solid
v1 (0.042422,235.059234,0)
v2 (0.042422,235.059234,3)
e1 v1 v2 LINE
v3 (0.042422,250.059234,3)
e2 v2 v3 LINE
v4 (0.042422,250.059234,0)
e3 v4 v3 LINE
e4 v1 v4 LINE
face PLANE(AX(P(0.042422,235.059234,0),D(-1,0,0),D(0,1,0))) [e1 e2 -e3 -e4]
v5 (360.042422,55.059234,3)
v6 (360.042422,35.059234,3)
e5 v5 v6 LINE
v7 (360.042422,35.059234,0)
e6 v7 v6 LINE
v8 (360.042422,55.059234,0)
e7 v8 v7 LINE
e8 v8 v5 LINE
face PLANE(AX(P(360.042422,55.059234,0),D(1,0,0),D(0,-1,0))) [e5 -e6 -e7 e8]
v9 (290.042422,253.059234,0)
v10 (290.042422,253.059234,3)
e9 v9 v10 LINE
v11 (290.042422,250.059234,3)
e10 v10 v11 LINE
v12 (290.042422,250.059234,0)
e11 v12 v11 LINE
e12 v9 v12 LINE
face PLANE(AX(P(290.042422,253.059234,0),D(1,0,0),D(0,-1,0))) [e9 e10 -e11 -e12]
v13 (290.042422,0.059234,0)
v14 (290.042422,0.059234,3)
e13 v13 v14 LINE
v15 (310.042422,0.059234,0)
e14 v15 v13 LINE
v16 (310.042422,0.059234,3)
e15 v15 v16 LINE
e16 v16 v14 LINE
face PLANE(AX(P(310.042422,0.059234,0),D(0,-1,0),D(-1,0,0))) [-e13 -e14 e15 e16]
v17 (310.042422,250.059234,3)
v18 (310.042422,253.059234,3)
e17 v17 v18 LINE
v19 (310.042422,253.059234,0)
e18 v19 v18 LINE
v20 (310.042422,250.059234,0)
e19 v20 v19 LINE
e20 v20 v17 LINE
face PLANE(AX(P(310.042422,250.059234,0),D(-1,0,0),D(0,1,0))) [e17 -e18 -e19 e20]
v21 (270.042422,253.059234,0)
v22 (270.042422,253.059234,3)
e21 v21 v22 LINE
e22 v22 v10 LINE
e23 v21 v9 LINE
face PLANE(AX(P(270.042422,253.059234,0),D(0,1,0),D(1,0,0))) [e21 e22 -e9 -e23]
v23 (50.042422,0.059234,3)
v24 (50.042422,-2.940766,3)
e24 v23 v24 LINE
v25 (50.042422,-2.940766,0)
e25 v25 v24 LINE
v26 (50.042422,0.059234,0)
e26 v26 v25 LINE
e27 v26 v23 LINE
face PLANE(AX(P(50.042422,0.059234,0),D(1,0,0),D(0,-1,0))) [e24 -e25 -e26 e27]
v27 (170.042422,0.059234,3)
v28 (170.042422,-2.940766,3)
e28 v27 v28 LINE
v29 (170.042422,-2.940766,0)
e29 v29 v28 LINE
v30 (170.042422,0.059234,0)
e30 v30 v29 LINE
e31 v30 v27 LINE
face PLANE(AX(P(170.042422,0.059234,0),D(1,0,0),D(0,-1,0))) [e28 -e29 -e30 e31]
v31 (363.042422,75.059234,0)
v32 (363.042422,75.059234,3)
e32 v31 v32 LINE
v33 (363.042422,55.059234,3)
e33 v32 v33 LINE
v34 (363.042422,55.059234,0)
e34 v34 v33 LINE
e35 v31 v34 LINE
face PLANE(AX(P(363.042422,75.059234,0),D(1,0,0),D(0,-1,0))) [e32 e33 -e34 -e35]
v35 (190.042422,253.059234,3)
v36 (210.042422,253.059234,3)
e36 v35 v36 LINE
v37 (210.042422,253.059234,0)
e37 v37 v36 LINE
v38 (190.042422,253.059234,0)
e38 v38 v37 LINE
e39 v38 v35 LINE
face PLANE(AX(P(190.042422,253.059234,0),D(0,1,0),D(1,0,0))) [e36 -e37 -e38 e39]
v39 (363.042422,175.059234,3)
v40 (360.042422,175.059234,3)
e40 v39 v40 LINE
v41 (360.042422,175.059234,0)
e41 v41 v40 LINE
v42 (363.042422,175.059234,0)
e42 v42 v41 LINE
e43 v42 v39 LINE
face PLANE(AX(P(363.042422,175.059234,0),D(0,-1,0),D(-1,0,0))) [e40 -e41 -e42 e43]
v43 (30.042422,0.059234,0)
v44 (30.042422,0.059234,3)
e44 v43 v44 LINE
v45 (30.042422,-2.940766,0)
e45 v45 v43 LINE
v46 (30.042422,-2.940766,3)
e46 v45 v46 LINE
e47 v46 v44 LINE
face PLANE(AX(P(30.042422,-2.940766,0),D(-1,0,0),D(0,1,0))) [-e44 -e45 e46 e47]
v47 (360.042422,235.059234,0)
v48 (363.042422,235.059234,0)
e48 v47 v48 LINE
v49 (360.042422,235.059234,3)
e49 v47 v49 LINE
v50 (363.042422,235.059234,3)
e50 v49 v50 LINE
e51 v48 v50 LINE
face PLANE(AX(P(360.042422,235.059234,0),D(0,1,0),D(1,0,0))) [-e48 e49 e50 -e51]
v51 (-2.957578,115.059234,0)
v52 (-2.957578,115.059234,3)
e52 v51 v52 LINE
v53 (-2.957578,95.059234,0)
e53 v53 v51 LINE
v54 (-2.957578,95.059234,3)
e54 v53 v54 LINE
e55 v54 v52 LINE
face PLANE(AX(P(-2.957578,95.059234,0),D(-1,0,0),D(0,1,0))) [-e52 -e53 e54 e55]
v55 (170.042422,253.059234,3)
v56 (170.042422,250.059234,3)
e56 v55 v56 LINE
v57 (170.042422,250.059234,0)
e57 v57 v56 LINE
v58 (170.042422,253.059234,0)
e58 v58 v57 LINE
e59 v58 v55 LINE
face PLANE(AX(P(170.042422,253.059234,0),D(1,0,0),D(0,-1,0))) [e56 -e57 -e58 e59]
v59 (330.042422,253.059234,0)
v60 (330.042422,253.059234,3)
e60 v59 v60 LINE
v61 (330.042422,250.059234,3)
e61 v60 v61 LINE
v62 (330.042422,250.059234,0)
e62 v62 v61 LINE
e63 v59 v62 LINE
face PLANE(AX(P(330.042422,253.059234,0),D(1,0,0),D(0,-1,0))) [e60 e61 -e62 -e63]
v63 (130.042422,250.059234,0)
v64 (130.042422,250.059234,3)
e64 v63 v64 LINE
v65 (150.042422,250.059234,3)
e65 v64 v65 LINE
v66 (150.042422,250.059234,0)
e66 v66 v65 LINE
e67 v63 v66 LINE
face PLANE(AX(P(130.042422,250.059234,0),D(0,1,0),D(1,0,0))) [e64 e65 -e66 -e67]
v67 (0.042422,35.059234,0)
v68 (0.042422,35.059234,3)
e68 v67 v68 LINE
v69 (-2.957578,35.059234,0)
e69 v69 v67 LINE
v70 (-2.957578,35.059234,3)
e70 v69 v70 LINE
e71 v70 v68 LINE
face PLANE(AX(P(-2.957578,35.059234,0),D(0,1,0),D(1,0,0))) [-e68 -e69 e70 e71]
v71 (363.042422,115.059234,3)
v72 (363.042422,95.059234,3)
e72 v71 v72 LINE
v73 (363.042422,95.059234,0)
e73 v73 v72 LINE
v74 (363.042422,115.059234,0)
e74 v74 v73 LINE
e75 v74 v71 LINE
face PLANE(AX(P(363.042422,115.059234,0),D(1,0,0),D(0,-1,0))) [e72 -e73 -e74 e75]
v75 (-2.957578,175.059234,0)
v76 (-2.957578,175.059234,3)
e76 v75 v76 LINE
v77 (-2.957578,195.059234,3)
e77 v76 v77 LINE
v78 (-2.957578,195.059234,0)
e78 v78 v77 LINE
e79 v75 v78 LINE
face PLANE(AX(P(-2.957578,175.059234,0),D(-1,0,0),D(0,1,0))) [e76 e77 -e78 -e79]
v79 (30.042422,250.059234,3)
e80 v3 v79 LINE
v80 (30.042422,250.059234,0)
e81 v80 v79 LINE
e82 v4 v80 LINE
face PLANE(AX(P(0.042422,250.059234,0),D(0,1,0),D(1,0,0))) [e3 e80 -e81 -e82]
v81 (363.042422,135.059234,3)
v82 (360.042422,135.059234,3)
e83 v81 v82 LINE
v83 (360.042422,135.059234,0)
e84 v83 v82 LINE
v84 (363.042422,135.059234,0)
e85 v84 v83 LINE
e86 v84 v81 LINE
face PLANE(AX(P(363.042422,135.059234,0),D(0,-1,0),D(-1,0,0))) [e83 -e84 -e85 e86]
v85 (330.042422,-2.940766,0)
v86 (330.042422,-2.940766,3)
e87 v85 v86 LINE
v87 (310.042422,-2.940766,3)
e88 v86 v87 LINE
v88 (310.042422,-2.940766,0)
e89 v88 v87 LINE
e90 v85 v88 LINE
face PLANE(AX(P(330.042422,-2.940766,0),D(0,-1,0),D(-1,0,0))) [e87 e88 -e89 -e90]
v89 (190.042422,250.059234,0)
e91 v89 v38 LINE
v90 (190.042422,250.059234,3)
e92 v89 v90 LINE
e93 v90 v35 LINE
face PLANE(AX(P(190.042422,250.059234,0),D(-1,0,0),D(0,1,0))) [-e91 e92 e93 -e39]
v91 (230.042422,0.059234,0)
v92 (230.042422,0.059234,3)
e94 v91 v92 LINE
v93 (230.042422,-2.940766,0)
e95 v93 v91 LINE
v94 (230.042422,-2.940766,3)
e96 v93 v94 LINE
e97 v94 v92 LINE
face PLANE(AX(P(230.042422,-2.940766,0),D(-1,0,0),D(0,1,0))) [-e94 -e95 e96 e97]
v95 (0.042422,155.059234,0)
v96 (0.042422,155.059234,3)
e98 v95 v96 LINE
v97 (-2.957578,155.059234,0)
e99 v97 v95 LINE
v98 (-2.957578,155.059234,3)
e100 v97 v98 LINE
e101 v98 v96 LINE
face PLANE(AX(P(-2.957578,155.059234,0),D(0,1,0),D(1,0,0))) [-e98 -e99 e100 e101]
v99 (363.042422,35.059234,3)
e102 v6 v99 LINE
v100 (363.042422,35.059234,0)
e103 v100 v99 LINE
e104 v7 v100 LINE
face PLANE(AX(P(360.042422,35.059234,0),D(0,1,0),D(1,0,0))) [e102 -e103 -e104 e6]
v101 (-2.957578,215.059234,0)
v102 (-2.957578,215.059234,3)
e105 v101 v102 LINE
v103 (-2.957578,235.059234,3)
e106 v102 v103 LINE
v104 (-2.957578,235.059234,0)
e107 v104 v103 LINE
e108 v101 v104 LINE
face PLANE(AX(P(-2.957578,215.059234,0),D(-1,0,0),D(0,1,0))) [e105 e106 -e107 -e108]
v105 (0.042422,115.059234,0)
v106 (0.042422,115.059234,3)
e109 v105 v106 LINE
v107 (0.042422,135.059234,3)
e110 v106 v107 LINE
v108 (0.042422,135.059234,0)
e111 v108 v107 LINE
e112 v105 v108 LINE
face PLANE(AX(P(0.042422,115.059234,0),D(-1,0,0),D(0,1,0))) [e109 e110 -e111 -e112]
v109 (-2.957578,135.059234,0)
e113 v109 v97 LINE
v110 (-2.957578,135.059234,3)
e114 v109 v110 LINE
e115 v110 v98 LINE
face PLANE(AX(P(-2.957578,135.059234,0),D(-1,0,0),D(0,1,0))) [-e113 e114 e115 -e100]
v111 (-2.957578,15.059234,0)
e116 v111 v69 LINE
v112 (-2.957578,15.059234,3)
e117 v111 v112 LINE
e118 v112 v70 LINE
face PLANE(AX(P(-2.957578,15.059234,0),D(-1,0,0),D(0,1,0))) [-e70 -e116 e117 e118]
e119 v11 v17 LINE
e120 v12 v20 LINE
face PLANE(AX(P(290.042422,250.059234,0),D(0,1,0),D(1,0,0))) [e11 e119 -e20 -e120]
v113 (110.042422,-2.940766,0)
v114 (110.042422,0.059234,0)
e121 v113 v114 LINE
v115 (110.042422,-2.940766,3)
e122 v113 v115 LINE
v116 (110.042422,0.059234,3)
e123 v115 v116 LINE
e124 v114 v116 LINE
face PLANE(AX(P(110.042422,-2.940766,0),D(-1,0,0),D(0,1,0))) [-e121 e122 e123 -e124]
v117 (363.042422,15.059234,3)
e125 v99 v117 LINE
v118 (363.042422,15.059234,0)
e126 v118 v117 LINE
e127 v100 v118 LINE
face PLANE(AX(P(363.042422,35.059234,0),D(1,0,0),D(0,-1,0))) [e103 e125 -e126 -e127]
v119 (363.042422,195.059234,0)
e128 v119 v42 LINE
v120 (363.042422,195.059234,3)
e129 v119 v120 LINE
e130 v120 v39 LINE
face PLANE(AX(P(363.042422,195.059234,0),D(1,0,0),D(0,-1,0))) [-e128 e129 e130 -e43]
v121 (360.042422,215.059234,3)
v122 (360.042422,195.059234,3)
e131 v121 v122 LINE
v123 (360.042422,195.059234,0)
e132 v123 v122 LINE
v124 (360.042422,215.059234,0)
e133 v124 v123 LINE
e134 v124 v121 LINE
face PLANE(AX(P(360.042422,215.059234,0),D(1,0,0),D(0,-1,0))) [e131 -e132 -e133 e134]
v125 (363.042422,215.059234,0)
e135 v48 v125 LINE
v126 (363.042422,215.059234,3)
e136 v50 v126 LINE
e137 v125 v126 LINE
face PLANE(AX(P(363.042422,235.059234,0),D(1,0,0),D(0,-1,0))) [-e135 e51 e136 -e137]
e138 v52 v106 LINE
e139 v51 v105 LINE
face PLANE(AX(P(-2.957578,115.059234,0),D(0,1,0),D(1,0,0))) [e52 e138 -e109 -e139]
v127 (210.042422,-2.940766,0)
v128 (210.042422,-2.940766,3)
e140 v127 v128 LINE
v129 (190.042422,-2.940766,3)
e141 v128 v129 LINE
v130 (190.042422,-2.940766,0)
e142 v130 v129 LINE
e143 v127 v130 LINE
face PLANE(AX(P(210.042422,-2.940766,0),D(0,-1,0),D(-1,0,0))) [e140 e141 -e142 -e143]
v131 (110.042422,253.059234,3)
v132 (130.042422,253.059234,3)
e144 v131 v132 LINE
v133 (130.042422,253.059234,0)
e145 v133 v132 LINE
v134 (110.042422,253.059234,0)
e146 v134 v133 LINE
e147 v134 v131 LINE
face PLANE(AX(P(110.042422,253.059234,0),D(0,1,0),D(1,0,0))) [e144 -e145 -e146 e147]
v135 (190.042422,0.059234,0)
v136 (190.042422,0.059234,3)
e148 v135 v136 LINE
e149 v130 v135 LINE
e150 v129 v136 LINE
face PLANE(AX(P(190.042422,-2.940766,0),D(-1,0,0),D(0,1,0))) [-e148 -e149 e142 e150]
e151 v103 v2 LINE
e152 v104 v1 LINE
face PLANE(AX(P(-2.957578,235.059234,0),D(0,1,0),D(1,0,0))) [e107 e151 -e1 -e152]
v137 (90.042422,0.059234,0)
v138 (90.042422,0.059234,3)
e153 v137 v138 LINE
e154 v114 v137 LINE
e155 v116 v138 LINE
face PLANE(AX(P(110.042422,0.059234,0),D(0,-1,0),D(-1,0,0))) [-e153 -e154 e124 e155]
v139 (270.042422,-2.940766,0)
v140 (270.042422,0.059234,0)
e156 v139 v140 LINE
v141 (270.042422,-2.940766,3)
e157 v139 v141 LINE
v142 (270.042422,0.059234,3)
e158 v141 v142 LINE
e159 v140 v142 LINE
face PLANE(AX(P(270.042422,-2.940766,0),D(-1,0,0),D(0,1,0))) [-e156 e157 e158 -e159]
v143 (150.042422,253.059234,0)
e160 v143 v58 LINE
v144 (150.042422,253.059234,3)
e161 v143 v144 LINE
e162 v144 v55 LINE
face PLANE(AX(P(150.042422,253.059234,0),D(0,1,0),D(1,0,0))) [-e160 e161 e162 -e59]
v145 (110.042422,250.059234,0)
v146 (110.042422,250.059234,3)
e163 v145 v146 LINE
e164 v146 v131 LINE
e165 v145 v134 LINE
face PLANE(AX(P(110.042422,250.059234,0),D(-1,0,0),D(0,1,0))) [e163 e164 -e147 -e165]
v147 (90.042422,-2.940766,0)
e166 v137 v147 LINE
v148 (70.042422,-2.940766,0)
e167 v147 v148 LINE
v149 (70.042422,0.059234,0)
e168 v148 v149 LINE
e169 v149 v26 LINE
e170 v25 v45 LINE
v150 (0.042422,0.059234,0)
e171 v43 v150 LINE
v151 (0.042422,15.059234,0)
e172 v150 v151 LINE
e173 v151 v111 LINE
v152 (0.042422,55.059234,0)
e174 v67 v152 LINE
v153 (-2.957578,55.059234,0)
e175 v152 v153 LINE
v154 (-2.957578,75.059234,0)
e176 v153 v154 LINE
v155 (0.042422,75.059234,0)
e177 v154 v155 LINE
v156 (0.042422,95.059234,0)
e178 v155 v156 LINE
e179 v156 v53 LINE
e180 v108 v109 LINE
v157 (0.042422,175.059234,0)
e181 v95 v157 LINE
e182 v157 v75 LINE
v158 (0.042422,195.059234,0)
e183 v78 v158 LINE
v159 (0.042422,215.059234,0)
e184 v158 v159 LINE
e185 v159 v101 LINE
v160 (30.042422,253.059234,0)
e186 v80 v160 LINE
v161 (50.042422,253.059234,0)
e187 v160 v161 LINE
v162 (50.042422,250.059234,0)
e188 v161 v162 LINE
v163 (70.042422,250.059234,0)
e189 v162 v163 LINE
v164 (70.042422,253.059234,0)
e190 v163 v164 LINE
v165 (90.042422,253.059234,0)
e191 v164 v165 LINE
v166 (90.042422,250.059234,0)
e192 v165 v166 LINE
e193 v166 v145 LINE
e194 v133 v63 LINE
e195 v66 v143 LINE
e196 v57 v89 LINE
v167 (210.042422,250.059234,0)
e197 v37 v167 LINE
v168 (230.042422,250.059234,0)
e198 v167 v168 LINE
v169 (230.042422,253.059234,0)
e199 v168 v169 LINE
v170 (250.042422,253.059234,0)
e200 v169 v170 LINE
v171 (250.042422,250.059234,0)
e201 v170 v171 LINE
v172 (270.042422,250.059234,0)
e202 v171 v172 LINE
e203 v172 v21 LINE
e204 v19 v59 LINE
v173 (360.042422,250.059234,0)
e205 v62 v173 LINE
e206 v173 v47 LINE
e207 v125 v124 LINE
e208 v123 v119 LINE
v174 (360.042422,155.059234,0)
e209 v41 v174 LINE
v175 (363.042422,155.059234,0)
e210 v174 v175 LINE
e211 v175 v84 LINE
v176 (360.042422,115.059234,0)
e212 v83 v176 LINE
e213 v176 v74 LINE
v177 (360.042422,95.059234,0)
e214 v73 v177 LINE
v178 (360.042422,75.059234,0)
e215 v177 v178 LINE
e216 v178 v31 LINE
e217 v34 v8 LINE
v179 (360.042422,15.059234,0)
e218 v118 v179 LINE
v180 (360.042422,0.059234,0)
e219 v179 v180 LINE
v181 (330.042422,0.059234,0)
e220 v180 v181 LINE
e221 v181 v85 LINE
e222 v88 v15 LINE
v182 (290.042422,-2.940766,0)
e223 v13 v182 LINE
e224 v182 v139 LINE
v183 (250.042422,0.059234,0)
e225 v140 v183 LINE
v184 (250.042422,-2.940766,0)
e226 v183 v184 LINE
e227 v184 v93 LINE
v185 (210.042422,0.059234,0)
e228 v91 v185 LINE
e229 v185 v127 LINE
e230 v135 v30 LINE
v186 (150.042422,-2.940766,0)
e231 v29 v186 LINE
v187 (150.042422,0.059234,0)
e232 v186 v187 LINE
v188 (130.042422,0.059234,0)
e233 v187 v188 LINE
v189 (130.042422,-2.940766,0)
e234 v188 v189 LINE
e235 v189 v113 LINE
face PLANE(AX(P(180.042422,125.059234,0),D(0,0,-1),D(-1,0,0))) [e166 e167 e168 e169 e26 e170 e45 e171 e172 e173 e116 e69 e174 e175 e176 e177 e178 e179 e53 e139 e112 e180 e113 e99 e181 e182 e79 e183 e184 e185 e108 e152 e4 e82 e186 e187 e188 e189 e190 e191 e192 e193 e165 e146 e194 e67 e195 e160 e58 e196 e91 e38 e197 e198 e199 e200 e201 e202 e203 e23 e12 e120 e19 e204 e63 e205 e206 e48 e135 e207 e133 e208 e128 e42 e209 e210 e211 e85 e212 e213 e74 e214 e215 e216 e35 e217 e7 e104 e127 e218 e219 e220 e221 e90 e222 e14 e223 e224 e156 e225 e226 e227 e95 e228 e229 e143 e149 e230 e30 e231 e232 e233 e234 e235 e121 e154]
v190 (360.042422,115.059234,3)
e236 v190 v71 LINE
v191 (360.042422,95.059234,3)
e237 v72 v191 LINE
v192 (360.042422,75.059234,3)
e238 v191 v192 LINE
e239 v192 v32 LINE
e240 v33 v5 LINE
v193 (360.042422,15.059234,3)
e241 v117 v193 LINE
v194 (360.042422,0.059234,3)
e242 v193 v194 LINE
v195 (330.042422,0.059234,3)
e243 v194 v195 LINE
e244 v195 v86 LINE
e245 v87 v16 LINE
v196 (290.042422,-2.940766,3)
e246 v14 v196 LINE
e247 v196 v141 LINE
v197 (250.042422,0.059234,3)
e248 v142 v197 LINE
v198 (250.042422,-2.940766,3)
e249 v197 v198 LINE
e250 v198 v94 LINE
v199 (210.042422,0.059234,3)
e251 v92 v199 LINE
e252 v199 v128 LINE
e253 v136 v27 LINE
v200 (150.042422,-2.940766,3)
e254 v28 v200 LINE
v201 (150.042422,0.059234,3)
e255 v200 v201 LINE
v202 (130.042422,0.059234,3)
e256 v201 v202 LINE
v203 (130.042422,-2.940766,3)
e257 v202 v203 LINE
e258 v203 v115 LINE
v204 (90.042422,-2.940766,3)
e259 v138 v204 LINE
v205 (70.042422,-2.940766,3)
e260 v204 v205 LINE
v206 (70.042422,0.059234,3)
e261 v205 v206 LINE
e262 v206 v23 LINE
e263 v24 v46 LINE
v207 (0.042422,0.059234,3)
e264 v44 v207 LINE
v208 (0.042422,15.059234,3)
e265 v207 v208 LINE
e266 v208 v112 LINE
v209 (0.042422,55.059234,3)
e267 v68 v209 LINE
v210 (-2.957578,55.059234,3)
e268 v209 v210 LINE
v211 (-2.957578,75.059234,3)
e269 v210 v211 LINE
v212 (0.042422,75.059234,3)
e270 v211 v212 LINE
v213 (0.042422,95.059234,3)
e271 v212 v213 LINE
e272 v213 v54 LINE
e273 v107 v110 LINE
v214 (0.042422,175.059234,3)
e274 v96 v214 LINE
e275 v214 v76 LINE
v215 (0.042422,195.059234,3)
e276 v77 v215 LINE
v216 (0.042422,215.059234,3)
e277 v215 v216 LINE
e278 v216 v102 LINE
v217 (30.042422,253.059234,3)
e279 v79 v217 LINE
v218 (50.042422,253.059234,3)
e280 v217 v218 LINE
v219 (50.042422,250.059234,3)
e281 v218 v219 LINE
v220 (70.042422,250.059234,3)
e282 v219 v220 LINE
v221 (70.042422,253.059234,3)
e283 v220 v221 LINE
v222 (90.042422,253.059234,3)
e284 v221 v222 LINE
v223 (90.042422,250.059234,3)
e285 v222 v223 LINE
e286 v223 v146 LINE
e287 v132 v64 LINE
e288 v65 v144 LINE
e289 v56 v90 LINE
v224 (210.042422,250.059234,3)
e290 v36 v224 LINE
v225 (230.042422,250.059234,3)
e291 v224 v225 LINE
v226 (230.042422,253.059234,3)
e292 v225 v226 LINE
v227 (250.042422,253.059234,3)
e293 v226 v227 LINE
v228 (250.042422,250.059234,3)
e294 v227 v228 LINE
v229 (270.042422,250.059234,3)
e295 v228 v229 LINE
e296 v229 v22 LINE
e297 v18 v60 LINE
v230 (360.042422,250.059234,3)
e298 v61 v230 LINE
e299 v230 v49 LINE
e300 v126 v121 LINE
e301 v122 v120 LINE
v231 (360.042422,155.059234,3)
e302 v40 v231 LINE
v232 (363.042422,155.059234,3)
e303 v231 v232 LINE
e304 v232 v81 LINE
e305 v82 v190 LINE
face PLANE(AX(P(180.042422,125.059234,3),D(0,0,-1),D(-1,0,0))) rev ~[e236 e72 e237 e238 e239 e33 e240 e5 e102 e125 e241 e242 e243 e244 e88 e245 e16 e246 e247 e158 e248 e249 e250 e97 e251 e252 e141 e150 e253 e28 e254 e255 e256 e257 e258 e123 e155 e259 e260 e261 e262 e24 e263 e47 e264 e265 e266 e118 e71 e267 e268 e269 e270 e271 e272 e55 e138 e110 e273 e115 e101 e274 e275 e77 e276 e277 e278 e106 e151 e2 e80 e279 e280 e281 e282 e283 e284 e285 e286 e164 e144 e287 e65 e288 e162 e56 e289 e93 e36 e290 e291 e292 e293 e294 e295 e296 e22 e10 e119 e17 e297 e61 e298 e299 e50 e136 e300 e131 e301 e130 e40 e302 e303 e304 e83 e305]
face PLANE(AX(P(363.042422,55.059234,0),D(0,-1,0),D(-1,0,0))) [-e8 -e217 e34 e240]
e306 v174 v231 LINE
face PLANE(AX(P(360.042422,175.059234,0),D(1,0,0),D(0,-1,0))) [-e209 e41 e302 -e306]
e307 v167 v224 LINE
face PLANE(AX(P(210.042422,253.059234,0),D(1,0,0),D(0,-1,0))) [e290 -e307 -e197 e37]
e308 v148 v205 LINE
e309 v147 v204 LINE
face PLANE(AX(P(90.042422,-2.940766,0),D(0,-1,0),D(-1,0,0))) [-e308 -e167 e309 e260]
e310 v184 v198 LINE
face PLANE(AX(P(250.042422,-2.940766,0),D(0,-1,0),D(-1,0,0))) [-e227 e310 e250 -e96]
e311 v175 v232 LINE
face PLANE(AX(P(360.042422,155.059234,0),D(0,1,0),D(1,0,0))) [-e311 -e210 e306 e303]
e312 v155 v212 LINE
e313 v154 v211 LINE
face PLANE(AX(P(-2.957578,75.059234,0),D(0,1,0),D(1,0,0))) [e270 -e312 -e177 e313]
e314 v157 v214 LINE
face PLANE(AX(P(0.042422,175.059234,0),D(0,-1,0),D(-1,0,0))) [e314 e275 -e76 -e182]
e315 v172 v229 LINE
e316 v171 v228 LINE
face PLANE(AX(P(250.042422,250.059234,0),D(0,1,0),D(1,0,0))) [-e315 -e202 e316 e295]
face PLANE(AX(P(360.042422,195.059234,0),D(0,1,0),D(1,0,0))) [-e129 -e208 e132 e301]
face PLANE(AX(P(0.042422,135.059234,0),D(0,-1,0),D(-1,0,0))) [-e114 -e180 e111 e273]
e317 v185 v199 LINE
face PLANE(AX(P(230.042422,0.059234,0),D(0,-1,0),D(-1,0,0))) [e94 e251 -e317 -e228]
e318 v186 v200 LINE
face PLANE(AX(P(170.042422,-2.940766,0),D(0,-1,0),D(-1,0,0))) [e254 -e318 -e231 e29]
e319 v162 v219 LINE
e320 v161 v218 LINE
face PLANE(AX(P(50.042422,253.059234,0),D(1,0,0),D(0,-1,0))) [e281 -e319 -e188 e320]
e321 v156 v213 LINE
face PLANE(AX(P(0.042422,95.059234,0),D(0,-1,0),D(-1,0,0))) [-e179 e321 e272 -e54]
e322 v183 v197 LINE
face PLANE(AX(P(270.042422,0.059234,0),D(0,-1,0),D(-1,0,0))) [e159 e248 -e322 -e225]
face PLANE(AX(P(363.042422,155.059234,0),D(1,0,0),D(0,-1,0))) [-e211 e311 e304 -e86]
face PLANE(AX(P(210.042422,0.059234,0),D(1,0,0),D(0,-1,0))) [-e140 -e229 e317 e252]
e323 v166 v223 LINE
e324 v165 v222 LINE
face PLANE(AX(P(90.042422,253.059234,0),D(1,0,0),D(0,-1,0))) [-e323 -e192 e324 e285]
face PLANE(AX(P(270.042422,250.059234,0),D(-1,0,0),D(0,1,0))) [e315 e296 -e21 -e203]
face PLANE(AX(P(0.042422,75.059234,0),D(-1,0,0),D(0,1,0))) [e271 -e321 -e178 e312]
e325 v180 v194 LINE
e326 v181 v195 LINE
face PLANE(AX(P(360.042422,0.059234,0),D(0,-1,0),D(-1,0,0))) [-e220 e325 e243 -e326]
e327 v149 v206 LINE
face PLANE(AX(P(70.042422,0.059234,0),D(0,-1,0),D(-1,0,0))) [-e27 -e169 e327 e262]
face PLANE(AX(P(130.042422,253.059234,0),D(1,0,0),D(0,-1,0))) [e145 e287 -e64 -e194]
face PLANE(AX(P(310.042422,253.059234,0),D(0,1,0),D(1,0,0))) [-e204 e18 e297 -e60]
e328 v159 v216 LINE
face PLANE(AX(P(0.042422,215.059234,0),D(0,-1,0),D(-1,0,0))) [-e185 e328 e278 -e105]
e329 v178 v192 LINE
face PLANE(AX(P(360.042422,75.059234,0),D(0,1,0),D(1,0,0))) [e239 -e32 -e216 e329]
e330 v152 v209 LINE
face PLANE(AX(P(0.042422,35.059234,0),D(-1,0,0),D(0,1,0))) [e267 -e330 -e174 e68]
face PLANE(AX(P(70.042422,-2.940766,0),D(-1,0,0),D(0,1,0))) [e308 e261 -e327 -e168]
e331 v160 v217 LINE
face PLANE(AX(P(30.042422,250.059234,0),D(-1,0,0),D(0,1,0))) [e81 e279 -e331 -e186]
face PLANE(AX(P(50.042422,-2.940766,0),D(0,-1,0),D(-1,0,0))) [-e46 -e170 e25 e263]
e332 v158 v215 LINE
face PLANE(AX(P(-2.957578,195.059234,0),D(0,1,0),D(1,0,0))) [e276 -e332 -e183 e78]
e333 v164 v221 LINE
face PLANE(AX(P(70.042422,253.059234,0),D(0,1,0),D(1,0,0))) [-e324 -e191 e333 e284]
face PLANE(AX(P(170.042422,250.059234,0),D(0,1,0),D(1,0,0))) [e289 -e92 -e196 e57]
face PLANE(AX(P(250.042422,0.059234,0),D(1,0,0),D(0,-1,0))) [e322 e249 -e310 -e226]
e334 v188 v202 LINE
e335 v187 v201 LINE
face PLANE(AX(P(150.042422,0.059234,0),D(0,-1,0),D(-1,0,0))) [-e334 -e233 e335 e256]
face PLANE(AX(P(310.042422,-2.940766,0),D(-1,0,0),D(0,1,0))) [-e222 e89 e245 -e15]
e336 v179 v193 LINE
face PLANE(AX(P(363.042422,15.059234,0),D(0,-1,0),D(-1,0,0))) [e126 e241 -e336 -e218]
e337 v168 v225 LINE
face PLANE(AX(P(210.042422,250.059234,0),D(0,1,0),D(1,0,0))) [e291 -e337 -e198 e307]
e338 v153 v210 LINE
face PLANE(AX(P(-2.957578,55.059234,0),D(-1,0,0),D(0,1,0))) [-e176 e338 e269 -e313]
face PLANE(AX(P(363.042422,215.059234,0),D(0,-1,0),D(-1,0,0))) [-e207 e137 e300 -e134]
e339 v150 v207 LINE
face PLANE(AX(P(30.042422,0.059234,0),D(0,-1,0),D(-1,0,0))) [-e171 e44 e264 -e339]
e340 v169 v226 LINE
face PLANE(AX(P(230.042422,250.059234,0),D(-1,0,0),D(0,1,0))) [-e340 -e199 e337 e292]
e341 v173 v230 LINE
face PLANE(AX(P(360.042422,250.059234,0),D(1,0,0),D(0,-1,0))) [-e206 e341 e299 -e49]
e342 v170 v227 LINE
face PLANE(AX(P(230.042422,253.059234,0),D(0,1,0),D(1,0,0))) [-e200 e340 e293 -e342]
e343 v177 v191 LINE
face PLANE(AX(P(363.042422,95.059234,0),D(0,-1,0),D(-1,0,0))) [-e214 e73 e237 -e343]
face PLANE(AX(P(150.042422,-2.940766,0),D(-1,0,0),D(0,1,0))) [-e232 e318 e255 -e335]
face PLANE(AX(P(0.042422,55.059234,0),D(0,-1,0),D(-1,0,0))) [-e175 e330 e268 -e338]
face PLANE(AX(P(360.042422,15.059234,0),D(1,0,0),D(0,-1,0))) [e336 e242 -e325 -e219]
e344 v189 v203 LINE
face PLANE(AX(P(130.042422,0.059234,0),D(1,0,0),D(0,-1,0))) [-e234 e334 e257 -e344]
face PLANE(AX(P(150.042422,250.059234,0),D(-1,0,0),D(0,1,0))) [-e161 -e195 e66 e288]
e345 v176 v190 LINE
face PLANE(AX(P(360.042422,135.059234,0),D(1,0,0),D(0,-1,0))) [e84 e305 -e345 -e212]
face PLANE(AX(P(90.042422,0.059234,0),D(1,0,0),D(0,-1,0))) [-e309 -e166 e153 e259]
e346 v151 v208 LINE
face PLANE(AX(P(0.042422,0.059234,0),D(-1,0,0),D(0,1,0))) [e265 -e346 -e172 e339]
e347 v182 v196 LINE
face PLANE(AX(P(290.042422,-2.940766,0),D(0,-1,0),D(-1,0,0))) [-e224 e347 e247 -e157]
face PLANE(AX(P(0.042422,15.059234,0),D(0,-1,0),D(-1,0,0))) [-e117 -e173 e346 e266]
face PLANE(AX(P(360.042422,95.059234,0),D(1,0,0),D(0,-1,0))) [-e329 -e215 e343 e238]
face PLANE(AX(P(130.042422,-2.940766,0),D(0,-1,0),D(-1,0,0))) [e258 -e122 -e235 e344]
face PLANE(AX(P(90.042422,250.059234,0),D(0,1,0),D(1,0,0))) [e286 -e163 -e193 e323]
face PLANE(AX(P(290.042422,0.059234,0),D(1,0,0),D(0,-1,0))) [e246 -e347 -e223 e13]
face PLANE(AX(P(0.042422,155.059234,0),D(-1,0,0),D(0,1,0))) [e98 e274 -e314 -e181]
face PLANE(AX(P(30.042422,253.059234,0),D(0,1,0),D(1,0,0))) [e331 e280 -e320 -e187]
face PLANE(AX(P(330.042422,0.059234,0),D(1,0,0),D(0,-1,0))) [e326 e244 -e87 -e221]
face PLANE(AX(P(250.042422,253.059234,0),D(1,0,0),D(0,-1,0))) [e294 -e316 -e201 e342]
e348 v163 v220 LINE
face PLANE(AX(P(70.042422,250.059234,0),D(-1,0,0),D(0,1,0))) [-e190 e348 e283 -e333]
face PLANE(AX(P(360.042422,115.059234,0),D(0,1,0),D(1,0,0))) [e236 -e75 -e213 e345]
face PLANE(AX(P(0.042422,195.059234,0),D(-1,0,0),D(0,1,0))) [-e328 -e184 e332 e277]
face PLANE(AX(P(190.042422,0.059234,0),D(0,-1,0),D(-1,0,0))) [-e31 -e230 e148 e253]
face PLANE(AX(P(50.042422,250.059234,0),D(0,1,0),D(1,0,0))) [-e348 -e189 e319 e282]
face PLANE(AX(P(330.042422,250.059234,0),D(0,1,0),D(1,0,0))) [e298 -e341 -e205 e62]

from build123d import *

# Parameters (mm, degrees)
BOSS_EXTRUDE1_DEPTH = 3


with BuildPart() as part:
    # Sketch2 → Boss-Extrude1 (new body)
    with BuildSketch(Plane.XY):
        Polygon((-2.957577841, 75.05923357), (0.042422159, 75.05923357), (0.042422159, 95.05923357), (-2.957577841, 95.05923357), (-2.957577841, 115.05923357), (0.042422159, 115.05923357), (0.042422159, 135.05923357), (-2.957577841, 135.05923357), (-2.957577841, 155.05923357), (0.042422159, 155.05923357), (0.042422159, 175.05923357), (-2.957577841, 175.05923357), (-2.957577841, 195.05923357), (0.042422159, 195.05923357), (0.042422159, 215.05923357), (-2.957577841, 215.05923357), (-2.957577841, 235.05923357), (0.042422159, 235.05923357), (0.042422159, 250.05923357), (30.042422159, 250.05923357), (30.042422159, 253.05923357), (50.042422159, 253.05923357), (50.042422159, 250.05923357), (70.042422159, 250.05923357), (70.042422159, 253.05923357), (90.042422159, 253.05923357), (90.042422159, 250.05923357), (110.042422159, 250.05923357), (110.042422159, 253.05923357), (130.042422159, 253.05923357), (130.042422159, 250.05923357), (150.042422159, 250.05923357), (150.042422159, 253.05923357), (170.042422159, 253.05923357), (170.042422159, 250.05923357), (190.042422159, 250.05923357), (190.042422159, 253.05923357), (210.042422159, 253.05923357), (210.042422159, 250.05923357), (230.042422159, 250.05923357), (230.042422159, 253.05923357), (250.042422159, 253.05923357), (250.042422159, 250.05923357), (270.042422159, 250.05923357), (270.042422159, 253.05923357), (290.042422159, 253.05923357), (290.042422159, 250.05923357), (310.042422159, 250.05923357), (310.042422159, 253.05923357), (330.042422159, 253.05923357), (330.042422159, 250.05923357), (360.042422159, 250.05923357), (360.042422159, 235.05923357), (363.042422159, 235.05923357), (363.042422159, 215.05923357), (360.042422159, 215.05923357), (360.042422159, 195.05923357), (363.042422159, 195.05923357), (363.042422159, 175.05923357), (360.042422159, 175.05923357), (360.042422159, 155.05923357), (363.042422159, 155.05923357), (363.042422159, 135.05923357), (360.042422159, 135.05923357), (360.042422159, 115.05923357), (363.042422159, 115.05923357), (363.042422159, 95.05923357), (360.042422159, 95.05923357), (360.042422159, 75.05923357), (363.042422159, 75.05923357), (363.042422159, 55.05923357), (360.042422159, 55.05923357), (360.042422159, 35.05923357), (363.042422159, 35.05923357), (363.042422159, 15.05923357), (360.042422159, 15.05923357), (360.042422159, 0.05923357), (330.042422159, 0.05923357), (330.042422159, -2.94076643), (310.042422159, -2.94076643), (310.042422159, 0.05923357), (290.042422159, 0.05923357), (290.042422159, -2.94076643), (270.042422159, -2.94076643), (270.042422159, 0.05923357), (250.042422159, 0.05923357), (250.042422159, -2.94076643), (230.042422159, -2.94076643), (230.042422159, 0.05923357), (210.042422159, 0.05923357), (210.042422159, -2.94076643), (190.042422159, -2.94076643), (190.042422159, 0.05923357), (170.042422159, 0.05923357), (170.042422159, -2.94076643), (150.042422159, -2.94076643), (150.042422159, 0.05923357), (130.042422159, 0.05923357), (130.042422159, -2.94076643), (110.042422159, -2.94076643), (110.042422159, 0.05923357), (90.042422159, 0.05923357), (90.042422159, -2.94076643), (70.042422159, -2.94076643), (70.042422159, 0.05923357), (50.042422159, 0.05923357), (50.042422159, -2.94076643), (30.042422159, -2.94076643), (30.042422159, 0.05923357), (0.042422159, 0.05923357), (0.042422159, 15.05923357), (-2.957577841, 15.05923357), (-2.957577841, 35.05923357), (0.042422159, 35.05923357), (0.042422159, 55.05923357), (-2.957577841, 55.05923357), align=None)
    extrude(amount=BOSS_EXTRUDE1_DEPTH)


solid = part.part
